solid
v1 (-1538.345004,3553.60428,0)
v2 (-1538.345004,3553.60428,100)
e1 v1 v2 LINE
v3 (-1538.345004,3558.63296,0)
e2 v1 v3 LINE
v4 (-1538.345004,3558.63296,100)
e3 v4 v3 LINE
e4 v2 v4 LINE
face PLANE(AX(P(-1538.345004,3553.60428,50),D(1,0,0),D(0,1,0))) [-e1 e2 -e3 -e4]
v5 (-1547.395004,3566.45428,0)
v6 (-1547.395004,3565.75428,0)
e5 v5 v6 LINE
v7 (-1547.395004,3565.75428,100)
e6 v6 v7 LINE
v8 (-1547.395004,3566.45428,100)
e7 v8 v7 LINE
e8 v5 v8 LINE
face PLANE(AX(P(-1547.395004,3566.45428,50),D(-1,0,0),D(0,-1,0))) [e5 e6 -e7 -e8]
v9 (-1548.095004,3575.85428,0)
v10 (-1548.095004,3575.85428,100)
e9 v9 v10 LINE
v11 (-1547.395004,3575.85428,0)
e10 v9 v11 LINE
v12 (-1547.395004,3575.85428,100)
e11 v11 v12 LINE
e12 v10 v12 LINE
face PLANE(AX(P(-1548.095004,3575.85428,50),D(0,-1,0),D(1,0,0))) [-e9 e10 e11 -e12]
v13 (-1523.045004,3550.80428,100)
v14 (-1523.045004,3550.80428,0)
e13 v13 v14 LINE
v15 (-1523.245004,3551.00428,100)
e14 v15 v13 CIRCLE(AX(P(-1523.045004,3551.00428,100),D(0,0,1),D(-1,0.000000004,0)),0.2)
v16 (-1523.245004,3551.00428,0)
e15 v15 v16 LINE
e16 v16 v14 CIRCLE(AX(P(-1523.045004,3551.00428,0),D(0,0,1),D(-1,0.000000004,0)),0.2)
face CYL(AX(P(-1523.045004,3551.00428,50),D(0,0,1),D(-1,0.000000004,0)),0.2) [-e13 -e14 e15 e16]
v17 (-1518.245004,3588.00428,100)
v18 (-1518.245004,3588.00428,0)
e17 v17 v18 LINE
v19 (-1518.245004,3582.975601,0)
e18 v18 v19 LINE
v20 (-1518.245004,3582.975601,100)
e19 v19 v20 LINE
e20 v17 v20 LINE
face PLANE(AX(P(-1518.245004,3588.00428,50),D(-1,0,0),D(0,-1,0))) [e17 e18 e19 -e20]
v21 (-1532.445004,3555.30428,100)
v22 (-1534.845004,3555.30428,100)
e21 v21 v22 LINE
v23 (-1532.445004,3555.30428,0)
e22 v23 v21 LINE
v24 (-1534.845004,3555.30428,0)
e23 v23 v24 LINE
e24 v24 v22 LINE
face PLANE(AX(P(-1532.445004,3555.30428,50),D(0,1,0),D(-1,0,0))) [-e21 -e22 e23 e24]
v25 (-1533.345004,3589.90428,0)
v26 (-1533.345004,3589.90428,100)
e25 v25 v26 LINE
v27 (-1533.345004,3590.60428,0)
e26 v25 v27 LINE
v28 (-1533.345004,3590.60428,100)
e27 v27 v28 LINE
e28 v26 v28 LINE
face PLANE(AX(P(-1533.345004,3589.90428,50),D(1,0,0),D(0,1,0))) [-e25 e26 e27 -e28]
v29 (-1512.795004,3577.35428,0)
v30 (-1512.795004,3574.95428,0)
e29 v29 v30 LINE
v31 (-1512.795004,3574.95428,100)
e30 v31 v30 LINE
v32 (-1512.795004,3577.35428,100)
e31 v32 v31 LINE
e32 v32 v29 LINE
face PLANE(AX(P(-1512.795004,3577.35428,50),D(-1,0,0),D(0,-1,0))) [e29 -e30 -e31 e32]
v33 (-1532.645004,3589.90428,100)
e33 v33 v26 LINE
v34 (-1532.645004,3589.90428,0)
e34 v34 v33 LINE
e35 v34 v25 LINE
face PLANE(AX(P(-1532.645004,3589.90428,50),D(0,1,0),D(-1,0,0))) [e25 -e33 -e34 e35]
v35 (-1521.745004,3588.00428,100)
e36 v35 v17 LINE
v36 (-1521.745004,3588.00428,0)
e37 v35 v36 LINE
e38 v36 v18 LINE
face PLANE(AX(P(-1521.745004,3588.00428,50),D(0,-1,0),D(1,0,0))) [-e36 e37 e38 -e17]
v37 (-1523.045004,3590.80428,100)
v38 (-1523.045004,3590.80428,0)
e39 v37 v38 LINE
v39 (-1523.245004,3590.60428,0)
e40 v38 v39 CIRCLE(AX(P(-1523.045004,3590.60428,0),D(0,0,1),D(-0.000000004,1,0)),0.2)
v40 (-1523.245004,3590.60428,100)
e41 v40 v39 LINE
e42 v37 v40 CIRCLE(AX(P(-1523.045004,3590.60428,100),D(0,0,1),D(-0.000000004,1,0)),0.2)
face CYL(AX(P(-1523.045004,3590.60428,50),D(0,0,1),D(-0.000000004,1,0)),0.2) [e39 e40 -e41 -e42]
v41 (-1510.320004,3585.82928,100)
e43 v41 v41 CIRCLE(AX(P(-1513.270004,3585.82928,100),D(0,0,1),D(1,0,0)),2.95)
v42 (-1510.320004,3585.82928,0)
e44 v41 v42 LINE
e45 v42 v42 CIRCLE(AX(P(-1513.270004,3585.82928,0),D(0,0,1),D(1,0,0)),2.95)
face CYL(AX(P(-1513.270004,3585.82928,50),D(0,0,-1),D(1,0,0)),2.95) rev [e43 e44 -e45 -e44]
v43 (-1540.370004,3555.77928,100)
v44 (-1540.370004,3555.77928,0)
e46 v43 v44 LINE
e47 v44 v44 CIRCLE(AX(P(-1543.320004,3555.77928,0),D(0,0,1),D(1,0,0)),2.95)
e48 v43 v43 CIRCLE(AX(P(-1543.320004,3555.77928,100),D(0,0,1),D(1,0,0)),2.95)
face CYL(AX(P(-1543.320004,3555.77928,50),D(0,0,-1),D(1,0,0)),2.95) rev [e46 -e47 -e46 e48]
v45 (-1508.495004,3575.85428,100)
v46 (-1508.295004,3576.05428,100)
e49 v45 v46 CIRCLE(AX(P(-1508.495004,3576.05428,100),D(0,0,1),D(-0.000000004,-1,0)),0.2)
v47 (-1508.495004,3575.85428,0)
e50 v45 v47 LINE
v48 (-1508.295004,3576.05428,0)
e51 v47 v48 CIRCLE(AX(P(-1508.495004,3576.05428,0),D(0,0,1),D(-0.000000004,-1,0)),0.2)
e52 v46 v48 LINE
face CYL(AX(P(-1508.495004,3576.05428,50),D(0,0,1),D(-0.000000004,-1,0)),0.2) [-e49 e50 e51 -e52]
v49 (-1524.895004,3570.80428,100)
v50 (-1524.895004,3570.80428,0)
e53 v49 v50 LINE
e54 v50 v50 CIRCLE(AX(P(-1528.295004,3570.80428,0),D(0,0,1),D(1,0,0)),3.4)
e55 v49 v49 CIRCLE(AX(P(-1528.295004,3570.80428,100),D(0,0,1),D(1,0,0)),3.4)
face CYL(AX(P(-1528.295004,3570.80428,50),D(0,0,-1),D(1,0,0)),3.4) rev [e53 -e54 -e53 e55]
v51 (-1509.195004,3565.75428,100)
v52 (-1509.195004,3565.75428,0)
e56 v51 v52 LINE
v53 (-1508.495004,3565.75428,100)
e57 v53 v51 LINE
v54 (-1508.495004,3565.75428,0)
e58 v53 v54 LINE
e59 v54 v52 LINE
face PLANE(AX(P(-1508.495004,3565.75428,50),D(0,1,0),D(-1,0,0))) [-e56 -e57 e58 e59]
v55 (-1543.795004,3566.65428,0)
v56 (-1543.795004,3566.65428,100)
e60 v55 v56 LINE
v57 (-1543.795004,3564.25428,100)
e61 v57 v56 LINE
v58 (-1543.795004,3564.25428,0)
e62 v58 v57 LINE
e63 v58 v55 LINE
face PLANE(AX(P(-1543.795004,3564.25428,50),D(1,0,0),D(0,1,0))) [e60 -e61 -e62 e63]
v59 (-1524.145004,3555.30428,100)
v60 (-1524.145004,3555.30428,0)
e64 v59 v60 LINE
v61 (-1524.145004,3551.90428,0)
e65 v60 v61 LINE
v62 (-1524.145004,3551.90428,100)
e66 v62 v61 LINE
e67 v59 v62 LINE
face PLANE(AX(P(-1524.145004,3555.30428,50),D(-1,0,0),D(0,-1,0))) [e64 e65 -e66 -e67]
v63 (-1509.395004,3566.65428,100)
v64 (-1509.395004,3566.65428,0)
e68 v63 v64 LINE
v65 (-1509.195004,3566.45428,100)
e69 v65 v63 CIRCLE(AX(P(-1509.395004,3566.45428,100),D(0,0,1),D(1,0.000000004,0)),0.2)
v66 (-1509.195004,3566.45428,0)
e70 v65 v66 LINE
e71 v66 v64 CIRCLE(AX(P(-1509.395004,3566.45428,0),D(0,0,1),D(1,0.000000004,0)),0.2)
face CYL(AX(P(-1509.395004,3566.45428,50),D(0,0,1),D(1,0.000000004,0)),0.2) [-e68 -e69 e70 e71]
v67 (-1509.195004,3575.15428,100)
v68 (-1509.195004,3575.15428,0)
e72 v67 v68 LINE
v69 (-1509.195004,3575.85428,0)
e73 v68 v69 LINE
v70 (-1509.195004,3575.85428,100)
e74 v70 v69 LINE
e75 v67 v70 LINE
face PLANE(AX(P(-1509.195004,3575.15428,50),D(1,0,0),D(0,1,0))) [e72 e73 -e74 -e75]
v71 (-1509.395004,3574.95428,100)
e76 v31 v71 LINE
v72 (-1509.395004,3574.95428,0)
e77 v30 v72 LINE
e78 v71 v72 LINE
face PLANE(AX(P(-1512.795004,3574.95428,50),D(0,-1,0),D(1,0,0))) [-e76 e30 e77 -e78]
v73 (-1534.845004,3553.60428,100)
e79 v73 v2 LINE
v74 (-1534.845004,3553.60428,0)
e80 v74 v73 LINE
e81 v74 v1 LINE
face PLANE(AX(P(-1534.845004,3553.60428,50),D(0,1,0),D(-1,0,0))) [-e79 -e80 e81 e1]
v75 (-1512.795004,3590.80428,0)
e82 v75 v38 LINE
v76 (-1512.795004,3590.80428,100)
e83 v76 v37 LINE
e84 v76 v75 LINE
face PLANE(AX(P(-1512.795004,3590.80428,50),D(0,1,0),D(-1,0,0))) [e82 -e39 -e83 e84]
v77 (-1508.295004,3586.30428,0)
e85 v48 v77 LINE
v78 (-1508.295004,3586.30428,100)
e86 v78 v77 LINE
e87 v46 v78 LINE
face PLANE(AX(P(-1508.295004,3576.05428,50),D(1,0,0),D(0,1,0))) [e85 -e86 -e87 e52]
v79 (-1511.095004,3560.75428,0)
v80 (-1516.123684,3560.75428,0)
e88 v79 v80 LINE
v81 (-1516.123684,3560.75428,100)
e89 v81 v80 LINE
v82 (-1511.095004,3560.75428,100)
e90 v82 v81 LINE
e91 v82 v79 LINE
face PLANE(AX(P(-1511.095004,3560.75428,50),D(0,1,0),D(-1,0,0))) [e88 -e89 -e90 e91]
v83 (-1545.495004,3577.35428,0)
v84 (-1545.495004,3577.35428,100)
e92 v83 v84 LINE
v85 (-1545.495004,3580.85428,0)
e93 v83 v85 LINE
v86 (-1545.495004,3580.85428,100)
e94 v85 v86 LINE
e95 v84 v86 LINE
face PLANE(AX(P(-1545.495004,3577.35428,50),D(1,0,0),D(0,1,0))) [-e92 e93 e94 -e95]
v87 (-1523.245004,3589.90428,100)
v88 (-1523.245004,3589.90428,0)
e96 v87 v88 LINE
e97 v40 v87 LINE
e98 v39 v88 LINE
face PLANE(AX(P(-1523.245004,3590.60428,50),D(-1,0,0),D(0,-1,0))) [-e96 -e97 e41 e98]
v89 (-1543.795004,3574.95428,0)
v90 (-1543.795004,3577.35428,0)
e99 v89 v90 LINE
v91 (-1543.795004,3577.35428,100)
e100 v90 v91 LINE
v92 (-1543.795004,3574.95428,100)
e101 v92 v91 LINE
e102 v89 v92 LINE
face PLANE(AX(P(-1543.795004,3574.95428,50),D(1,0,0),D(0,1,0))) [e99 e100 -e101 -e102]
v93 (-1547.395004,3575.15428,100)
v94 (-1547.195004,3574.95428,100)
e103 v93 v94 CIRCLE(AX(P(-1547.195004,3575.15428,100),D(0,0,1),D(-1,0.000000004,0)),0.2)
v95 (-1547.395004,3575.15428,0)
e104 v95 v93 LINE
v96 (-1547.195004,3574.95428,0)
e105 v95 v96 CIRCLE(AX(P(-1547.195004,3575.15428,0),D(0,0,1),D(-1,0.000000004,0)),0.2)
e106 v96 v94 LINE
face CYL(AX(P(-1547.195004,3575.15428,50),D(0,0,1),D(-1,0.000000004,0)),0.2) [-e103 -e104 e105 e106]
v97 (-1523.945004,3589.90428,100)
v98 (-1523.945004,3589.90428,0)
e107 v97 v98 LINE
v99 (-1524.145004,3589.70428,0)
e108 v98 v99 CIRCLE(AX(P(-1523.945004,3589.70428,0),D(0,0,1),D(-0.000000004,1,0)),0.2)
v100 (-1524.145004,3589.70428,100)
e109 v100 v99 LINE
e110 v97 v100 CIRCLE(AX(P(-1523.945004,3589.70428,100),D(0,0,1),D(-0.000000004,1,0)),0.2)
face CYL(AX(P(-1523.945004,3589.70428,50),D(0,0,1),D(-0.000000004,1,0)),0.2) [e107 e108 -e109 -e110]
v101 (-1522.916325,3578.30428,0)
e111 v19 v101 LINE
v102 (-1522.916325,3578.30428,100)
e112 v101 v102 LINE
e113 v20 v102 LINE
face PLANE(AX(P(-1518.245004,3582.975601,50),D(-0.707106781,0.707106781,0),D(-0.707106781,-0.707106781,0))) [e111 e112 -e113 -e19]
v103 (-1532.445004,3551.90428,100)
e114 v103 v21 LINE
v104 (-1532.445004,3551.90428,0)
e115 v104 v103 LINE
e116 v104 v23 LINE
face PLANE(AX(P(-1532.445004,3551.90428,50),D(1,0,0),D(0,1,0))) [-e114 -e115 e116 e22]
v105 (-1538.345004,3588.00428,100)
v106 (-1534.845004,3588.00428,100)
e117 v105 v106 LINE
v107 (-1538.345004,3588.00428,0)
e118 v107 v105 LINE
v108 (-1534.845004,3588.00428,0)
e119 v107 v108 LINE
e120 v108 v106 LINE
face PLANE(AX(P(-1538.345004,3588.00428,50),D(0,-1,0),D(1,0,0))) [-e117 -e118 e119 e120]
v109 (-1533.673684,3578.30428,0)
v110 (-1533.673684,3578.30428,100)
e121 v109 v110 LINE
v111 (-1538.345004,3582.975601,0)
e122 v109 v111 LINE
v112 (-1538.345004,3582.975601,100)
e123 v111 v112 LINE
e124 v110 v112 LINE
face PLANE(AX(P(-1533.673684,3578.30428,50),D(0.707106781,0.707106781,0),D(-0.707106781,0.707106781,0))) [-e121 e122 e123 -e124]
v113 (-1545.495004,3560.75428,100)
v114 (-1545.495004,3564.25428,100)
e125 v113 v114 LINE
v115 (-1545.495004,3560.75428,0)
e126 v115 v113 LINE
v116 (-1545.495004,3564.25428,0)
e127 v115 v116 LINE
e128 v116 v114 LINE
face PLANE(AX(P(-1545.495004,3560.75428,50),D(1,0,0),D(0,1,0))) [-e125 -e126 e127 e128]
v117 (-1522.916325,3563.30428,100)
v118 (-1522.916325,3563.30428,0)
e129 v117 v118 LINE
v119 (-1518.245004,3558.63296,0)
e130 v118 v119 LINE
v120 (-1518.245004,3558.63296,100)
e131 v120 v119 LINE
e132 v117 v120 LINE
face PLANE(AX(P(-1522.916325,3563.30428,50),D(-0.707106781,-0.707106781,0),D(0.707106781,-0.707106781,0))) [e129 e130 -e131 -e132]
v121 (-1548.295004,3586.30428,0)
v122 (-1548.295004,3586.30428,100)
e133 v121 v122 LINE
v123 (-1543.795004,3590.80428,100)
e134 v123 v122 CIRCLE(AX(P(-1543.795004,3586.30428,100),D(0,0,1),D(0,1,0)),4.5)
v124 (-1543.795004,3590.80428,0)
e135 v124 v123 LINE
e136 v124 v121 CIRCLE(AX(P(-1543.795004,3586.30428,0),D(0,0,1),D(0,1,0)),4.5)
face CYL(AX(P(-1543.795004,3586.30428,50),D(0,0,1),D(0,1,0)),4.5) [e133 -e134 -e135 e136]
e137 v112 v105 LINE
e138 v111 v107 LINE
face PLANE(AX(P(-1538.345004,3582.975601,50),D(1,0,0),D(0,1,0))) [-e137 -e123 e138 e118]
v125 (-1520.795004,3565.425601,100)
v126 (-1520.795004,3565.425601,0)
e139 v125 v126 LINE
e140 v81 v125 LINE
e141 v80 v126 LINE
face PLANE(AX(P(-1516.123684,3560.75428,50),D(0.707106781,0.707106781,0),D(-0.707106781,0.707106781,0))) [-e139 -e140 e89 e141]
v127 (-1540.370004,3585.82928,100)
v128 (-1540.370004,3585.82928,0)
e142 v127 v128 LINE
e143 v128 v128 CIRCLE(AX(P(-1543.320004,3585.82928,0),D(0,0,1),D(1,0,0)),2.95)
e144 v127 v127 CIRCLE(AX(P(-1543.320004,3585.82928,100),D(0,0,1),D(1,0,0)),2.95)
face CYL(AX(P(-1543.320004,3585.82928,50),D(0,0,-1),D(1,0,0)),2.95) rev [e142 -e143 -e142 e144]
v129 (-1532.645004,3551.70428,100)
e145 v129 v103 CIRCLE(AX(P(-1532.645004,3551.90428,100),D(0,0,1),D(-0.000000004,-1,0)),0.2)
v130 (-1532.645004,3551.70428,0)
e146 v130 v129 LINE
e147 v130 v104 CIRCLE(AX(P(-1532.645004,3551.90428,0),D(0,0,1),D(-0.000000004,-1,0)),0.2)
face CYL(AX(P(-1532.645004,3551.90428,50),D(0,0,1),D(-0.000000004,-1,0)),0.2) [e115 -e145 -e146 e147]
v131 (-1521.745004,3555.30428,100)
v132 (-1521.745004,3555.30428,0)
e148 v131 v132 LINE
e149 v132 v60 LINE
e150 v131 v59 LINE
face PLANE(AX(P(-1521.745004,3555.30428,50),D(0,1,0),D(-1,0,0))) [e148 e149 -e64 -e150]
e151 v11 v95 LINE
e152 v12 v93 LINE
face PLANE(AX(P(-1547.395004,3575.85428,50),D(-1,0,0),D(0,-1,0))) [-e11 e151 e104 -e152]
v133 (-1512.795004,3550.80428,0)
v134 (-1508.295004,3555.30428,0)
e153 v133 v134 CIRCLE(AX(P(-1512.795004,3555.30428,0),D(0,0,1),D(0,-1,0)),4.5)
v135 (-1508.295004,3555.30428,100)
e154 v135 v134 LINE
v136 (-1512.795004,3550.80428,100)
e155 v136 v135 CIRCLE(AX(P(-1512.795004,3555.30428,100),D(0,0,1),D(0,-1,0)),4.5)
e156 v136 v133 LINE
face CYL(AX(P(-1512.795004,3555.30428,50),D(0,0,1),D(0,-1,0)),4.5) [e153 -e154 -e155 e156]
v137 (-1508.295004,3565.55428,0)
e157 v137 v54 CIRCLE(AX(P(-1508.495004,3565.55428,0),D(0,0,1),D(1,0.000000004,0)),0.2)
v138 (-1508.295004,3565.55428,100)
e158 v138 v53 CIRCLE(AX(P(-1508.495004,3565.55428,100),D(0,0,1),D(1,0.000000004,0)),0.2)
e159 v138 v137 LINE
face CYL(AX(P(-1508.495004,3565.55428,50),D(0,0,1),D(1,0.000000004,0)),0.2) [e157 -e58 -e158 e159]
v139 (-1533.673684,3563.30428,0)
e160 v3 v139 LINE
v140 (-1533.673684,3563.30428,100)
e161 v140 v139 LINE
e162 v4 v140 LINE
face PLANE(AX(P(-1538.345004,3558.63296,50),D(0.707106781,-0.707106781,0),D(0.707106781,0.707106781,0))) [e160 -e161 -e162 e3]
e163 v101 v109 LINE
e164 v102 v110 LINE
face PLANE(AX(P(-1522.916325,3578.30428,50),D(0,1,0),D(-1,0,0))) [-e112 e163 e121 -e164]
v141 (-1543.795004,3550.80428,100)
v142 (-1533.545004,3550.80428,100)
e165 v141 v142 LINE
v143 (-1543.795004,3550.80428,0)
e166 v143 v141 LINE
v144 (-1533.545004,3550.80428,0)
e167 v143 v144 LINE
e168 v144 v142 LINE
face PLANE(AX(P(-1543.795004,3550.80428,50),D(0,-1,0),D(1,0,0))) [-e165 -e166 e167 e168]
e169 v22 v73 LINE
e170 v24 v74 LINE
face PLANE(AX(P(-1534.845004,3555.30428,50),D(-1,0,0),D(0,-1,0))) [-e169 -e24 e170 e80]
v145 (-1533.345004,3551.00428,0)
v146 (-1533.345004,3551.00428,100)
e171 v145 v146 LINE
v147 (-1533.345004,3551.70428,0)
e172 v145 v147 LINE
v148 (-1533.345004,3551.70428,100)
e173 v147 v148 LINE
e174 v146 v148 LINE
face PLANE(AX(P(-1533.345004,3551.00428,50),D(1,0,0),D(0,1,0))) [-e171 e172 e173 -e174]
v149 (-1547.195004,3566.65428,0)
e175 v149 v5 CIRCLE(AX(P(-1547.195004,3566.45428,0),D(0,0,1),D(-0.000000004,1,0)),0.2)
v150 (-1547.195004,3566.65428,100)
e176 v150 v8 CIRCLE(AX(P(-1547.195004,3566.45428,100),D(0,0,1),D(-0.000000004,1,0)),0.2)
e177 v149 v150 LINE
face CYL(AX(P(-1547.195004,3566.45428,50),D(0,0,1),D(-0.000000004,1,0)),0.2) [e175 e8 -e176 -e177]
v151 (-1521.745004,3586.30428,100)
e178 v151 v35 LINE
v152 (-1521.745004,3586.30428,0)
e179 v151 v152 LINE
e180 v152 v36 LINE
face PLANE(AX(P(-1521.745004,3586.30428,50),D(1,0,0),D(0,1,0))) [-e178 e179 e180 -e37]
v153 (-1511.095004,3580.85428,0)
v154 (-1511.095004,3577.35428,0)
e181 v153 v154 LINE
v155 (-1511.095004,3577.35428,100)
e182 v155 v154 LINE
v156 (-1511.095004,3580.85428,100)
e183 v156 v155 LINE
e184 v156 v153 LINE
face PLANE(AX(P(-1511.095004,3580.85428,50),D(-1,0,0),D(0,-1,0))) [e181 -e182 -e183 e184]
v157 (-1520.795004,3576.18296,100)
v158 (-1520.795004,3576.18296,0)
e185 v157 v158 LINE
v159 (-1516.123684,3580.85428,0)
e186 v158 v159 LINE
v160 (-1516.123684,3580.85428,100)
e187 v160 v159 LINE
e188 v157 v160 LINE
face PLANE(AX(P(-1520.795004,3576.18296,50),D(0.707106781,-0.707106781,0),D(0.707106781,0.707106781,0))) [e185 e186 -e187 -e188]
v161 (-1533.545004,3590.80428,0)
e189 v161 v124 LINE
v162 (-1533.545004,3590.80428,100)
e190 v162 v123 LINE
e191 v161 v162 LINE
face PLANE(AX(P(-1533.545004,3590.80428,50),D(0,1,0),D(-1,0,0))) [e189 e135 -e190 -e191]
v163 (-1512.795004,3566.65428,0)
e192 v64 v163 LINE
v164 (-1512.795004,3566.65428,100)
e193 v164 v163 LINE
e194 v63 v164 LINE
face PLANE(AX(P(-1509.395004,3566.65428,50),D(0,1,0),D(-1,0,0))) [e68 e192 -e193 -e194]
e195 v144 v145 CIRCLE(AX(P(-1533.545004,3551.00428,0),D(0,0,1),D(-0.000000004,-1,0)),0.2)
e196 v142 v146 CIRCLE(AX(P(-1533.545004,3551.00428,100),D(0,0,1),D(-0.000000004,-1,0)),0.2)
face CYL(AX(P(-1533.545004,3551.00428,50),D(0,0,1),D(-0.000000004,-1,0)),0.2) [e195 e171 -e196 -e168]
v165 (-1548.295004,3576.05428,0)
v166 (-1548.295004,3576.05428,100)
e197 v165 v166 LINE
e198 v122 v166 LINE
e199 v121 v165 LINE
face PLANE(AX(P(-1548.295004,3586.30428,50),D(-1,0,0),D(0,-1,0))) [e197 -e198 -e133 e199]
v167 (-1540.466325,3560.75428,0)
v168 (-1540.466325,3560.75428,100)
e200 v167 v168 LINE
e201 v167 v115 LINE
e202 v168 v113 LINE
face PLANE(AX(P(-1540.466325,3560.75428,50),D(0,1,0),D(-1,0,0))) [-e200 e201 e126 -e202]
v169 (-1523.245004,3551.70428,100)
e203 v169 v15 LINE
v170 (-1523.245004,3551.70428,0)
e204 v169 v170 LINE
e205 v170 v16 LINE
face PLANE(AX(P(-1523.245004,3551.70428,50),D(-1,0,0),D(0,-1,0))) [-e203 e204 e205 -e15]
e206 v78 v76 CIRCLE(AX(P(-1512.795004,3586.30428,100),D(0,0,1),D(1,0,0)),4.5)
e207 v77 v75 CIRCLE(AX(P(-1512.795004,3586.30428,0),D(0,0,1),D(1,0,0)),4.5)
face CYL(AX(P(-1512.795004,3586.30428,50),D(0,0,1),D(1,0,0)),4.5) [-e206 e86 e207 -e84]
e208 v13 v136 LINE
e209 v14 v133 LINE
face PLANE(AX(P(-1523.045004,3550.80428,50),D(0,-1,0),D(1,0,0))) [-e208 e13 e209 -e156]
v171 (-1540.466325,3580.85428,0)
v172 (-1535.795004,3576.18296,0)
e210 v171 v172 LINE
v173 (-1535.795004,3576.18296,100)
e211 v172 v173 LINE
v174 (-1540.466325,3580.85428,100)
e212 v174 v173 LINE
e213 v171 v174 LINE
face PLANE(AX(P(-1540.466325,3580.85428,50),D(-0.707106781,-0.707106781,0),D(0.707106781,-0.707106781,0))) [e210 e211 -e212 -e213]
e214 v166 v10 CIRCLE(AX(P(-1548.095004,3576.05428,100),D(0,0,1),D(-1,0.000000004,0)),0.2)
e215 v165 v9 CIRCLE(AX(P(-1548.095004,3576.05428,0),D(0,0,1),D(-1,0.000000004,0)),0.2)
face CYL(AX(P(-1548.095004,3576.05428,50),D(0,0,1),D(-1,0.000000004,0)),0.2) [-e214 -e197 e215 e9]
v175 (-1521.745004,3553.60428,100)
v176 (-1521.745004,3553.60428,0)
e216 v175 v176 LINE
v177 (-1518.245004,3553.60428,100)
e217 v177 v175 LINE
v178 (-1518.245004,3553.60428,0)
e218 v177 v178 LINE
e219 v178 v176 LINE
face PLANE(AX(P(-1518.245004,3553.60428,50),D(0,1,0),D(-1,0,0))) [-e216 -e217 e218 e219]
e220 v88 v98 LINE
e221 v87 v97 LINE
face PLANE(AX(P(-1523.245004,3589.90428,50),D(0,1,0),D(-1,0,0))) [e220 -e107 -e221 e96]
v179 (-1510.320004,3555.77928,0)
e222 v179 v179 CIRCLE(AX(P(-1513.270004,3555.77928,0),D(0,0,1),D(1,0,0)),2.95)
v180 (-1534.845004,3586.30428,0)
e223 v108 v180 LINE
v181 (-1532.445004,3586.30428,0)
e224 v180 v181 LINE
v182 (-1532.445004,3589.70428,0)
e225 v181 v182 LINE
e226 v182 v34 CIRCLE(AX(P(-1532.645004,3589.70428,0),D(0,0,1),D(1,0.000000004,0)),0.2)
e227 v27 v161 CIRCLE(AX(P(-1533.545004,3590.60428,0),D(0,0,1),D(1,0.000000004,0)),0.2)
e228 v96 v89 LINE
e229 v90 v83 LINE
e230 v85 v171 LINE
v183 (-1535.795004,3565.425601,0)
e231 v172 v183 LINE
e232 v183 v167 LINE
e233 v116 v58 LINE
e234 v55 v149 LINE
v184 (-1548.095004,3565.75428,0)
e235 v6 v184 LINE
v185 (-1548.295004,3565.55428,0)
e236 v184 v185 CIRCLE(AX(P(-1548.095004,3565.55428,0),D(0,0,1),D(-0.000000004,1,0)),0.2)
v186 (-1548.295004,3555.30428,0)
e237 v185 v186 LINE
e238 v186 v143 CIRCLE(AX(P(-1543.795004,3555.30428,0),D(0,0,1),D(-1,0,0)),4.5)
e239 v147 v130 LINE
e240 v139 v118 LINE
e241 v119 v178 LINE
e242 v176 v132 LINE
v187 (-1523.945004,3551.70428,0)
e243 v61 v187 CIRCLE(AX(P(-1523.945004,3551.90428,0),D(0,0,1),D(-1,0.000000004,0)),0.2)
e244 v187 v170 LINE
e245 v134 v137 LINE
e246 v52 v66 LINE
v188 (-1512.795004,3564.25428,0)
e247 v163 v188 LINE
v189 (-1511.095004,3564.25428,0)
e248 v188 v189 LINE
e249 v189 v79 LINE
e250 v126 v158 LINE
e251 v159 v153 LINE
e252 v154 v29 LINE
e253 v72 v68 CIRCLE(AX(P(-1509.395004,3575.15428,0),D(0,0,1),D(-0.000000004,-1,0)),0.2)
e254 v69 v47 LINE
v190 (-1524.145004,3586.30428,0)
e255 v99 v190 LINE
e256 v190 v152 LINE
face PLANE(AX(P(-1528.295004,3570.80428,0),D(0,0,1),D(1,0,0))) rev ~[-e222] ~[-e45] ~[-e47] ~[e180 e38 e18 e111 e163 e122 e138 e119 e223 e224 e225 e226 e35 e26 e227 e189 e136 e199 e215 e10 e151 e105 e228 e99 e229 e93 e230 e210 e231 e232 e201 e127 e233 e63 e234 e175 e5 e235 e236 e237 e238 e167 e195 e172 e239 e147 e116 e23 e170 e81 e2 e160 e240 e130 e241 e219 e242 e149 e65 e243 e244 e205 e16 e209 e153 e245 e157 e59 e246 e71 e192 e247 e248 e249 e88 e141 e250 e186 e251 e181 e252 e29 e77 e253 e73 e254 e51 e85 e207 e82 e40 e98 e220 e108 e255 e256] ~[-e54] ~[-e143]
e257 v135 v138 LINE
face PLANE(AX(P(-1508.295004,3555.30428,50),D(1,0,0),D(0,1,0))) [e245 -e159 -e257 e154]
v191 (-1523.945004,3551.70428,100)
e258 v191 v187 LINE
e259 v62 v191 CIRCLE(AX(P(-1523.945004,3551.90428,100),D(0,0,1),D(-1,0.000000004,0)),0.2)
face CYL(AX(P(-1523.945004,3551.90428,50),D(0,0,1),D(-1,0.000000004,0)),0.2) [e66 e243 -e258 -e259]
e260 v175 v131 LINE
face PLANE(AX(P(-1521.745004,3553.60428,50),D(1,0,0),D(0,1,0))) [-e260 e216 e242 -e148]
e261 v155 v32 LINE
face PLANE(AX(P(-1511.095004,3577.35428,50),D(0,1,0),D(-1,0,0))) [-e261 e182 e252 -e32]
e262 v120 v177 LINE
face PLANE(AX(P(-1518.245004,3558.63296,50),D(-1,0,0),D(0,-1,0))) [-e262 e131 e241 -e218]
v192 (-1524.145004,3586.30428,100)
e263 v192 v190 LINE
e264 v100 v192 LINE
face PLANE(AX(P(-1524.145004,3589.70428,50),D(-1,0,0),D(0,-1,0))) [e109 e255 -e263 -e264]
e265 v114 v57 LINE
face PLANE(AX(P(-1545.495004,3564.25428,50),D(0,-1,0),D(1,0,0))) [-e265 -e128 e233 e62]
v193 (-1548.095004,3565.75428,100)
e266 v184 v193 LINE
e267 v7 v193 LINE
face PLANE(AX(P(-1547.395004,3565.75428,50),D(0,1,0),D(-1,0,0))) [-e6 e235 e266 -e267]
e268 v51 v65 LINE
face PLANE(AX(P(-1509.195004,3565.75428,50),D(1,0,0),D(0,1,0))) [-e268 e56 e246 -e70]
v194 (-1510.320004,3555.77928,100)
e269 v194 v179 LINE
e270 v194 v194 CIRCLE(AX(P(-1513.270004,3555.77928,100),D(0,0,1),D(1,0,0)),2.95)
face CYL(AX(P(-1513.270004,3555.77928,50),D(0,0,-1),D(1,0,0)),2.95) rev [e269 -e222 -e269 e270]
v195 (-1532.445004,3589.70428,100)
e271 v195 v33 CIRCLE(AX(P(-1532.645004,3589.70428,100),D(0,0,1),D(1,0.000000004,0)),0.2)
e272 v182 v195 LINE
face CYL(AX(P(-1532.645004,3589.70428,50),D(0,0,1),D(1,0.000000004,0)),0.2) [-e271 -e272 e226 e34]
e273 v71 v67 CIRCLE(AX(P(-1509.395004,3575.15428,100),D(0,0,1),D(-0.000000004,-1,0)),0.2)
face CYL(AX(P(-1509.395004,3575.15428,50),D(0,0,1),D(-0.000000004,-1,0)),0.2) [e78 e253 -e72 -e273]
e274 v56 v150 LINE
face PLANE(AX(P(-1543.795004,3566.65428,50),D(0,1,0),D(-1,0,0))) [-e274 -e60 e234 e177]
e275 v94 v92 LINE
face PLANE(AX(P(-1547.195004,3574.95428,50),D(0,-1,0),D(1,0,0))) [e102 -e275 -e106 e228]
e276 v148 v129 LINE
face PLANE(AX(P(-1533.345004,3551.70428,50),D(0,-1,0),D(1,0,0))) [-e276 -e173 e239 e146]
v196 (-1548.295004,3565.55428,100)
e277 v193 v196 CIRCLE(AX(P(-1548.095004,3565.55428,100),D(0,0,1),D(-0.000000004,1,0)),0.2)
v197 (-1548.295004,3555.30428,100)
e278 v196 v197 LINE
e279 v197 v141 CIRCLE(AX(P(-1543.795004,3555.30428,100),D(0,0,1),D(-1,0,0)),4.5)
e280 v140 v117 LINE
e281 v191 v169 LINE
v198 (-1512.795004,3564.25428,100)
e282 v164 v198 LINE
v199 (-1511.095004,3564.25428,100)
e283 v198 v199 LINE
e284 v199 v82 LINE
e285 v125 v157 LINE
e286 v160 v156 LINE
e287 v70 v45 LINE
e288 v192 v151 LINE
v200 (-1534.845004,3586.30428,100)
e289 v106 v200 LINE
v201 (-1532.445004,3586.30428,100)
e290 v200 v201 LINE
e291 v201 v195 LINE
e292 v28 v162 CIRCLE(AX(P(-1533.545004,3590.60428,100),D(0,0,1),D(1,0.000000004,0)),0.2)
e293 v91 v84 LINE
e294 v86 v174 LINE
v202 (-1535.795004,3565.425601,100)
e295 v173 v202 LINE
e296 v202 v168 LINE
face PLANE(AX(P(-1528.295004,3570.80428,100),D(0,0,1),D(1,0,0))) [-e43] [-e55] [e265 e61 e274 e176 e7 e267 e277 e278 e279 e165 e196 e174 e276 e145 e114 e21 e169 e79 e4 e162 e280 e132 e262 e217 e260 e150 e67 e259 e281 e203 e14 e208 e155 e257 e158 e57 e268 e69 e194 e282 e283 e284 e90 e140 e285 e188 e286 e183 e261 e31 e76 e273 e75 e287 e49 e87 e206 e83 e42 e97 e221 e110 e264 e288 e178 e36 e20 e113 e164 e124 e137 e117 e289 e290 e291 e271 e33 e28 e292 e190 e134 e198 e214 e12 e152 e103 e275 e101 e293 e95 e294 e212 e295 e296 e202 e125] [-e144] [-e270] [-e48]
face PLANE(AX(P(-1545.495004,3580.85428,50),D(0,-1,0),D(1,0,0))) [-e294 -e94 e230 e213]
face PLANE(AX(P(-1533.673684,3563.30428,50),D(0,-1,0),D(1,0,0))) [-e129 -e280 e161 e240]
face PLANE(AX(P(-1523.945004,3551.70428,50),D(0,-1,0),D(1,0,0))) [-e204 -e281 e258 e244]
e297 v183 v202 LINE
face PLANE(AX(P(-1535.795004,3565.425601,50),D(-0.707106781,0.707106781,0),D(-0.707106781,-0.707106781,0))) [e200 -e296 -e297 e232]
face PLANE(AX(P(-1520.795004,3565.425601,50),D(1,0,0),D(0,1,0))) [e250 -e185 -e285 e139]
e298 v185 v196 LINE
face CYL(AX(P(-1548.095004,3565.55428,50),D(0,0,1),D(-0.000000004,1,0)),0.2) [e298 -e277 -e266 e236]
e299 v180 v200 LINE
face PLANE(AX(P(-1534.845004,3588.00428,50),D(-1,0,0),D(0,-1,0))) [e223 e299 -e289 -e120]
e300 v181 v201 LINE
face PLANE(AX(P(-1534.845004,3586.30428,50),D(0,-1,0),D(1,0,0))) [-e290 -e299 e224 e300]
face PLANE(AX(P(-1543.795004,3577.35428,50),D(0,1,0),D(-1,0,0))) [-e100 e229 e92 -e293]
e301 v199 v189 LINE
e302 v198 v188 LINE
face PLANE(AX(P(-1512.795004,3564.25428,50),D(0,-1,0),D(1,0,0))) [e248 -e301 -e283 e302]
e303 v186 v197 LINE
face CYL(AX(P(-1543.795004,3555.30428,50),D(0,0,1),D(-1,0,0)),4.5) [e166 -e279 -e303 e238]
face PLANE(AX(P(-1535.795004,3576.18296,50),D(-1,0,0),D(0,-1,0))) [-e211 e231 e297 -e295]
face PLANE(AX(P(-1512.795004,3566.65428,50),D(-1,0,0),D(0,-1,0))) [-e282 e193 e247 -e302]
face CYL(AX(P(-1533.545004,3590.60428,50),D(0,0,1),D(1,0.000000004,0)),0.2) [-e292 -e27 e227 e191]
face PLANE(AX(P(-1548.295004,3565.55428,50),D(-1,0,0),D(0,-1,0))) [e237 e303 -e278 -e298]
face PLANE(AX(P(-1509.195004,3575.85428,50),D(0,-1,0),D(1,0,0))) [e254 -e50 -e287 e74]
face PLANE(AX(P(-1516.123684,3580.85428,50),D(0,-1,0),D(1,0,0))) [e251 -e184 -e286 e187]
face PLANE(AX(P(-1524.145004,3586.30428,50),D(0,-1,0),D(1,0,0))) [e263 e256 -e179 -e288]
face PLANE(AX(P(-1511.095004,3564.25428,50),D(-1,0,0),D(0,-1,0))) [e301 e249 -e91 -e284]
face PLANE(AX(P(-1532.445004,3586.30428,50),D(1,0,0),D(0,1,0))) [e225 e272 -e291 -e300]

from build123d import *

# Parameters (mm, degrees)
SKETCH_1_R      = 2.95
SKETCH_1_R_2    = 3.4
EXTRUDE_1_DEPTH = 50


with BuildPart() as part:
    # 草图1 → 凸台-拉伸1 (new body, symmetric)
    with BuildSketch(Plane.XY.offset(50)):
        with BuildLine():
            Line((-1518.245004392, 3588.004280474), (-1518.245004392, 3582.975600817))
            Line((-1518.245004392, 3582.975600817), (-1522.916324736, 3578.304280474))
            Line((-1522.916324736, 3578.304280474), (-1533.673684048, 3578.304280474))
            Line((-1533.673684048, 3578.304280474), (-1538.345004392, 3582.975600817))
            Line((-1538.345004392, 3582.975600817), (-1538.345004392, 3588.004280474))
            Line((-1538.345004392, 3588.004280474), (-1534.845004392, 3588.004280474))
            Line((-1534.845004392, 3588.004280474), (-1534.845004392, 3586.304280474))
            Line((-1534.845004392, 3586.304280474), (-1532.445004392, 3586.304280474))
            Line((-1532.445004392, 3586.304280474), (-1532.445004392, 3589.704280474))
            ThreePointArc((-1532.445004392, 3589.704280474), (-1532.503583036, 3589.84570183), (-1532.645004392, 3589.904280474))
            Line((-1532.645004392, 3589.904280474), (-1533.345004392, 3589.904280474))
            Line((-1533.345004392, 3589.904280474), (-1533.345004392, 3590.604280474))
            ThreePointArc((-1533.345004392, 3590.604280474), (-1533.403583036, 3590.74570183), (-1533.545004392, 3590.804280474))
            Line((-1533.545004392, 3590.804280474), (-1543.795004392, 3590.804280474))
            ThreePointArc((-1543.795004392, 3590.804280474), (-1546.976984907, 3589.486260989), (-1548.295004392, 3586.304280474))
            Line((-1548.295004392, 3586.304280474), (-1548.295004392, 3576.054280474))
            ThreePointArc((-1548.295004392, 3576.054280474), (-1548.236425748, 3575.912859117), (-1548.095004392, 3575.854280474))
            Line((-1548.095004392, 3575.854280474), (-1547.395004392, 3575.854280474))
            Line((-1547.395004392, 3575.854280474), (-1547.395004392, 3575.154280474))
            ThreePointArc((-1547.395004392, 3575.154280474), (-1547.336425748, 3575.012859117), (-1547.195004392, 3574.954280474))
            Line((-1547.195004392, 3574.954280474), (-1543.795004392, 3574.954280474))
            Line((-1543.795004392, 3574.954280474), (-1543.795004392, 3577.354280474))
            Line((-1543.795004392, 3577.354280474), (-1545.495004392, 3577.354280474))
            Line((-1545.495004392, 3577.354280474), (-1545.495004392, 3580.854280474))
            Line((-1545.495004392, 3580.854280474), (-1540.466324736, 3580.854280474))
            Line((-1540.466324736, 3580.854280474), (-1535.795004392, 3576.18296013))
            Line((-1535.795004392, 3576.18296013), (-1535.795004392, 3565.425600817))
            Line((-1535.795004392, 3565.425600817), (-1540.466324736, 3560.754280474))
            Line((-1540.466324736, 3560.754280474), (-1545.495004392, 3560.754280474))
            Line((-1545.495004392, 3560.754280474), (-1545.495004392, 3564.254280474))
            Line((-1545.495004392, 3564.254280474), (-1543.795004392, 3564.254280474))
            Line((-1543.795004392, 3564.254280474), (-1543.795004392, 3566.654280474))
            Line((-1543.795004392, 3566.654280474), (-1547.195004392, 3566.654280474))
            ThreePointArc((-1547.195004392, 3566.654280474), (-1547.336425748, 3566.59570183), (-1547.395004392, 3566.454280474))
            Line((-1547.395004392, 3566.454280474), (-1547.395004392, 3565.754280474))
            Line((-1547.395004392, 3565.754280474), (-1548.095004392, 3565.754280474))
            ThreePointArc((-1548.095004392, 3565.754280474), (-1548.236425748, 3565.69570183), (-1548.295004392, 3565.554280474))
            Line((-1548.295004392, 3565.554280474), (-1548.295004392, 3555.304280474))
            ThreePointArc((-1548.295004392, 3555.304280474), (-1546.976984907, 3552.122299958), (-1543.795004392, 3550.804280474))
            Line((-1543.795004392, 3550.804280474), (-1533.545004392, 3550.804280474))
            ThreePointArc((-1533.545004392, 3550.804280474), (-1533.403583036, 3550.862859117), (-1533.345004392, 3551.004280474))
            Line((-1533.345004392, 3551.004280474), (-1533.345004392, 3551.704280474))
            Line((-1533.345004392, 3551.704280474), (-1532.645004392, 3551.704280474))
            ThreePointArc((-1532.645004392, 3551.704280474), (-1532.503583036, 3551.762859117), (-1532.445004392, 3551.904280474))
            Line((-1532.445004392, 3551.904280474), (-1532.445004392, 3555.304280474))
            Line((-1532.445004392, 3555.304280474), (-1534.845004392, 3555.304280474))
            Line((-1534.845004392, 3555.304280474), (-1534.845004392, 3553.604280474))
            Line((-1534.845004392, 3553.604280474), (-1538.345004392, 3553.604280474))
            Line((-1538.345004392, 3553.604280474), (-1538.345004392, 3558.63296013))
            Line((-1538.345004392, 3558.63296013), (-1533.673684048, 3563.304280474))
            Line((-1533.673684048, 3563.304280474), (-1522.916324736, 3563.304280474))
            Line((-1522.916324736, 3563.304280474), (-1518.245004392, 3558.63296013))
            Line((-1518.245004392, 3558.63296013), (-1518.245004392, 3553.604280474))
            Line((-1518.245004392, 3553.604280474), (-1521.745004392, 3553.604280474))
            Line((-1521.745004392, 3553.604280474), (-1521.745004392, 3555.304280474))
            Line((-1521.745004392, 3555.304280474), (-1524.145004392, 3555.304280474))
            Line((-1524.145004392, 3555.304280474), (-1524.145004392, 3551.904280474))
            ThreePointArc((-1524.145004392, 3551.904280474), (-1524.086425748, 3551.762859117), (-1523.945004392, 3551.704280474))
            Line((-1523.945004392, 3551.704280474), (-1523.245004392, 3551.704280474))
            Line((-1523.245004392, 3551.704280474), (-1523.245004392, 3551.004280474))
            ThreePointArc((-1523.245004392, 3551.004280474), (-1523.186425748, 3550.862859117), (-1523.045004392, 3550.804280474))
            Line((-1523.045004392, 3550.804280474), (-1512.795004392, 3550.804280474))
            ThreePointArc((-1512.795004392, 3550.804280474), (-1509.613023877, 3552.122299958), (-1508.295004392, 3555.304280474))
            Line((-1508.295004392, 3555.304280474), (-1508.295004392, 3565.554280474))
            ThreePointArc((-1508.295004392, 3565.554280474), (-1508.353583036, 3565.69570183), (-1508.495004392, 3565.754280474))
            Line((-1508.495004392, 3565.754280474), (-1509.195004392, 3565.754280474))
            Line((-1509.195004392, 3565.754280474), (-1509.195004392, 3566.454280474))
            ThreePointArc((-1509.195004392, 3566.454280474), (-1509.253583036, 3566.59570183), (-1509.395004392, 3566.654280474))
            Line((-1509.395004392, 3566.654280474), (-1512.795004392, 3566.654280474))
            Line((-1512.795004392, 3566.654280474), (-1512.795004392, 3564.254280474))
            Line((-1512.795004392, 3564.254280474), (-1511.095004392, 3564.254280474))
            Line((-1511.095004392, 3564.254280474), (-1511.095004392, 3560.754280474))
            Line((-1511.095004392, 3560.754280474), (-1516.123684048, 3560.754280474))
            Line((-1516.123684048, 3560.754280474), (-1520.795004392, 3565.425600817))
            Line((-1520.795004392, 3565.425600817), (-1520.795004392, 3576.18296013))
            Line((-1520.795004392, 3576.18296013), (-1516.123684048, 3580.854280474))
            Line((-1516.123684048, 3580.854280474), (-1511.095004392, 3580.854280474))
            Line((-1511.095004392, 3580.854280474), (-1511.095004392, 3577.354280474))
            Line((-1511.095004392, 3577.354280474), (-1512.795004392, 3577.354280474))
            Line((-1512.795004392, 3577.354280474), (-1512.795004392, 3574.954280474))
            Line((-1512.795004392, 3574.954280474), (-1509.395004392, 3574.954280474))
            ThreePointArc((-1509.395004392, 3574.954280474), (-1509.253583036, 3575.012859117), (-1509.195004392, 3575.154280474))
            Line((-1509.195004392, 3575.154280474), (-1509.195004392, 3575.854280474))
            Line((-1509.195004392, 3575.854280474), (-1508.495004392, 3575.854280474))
            ThreePointArc((-1508.495004392, 3575.854280474), (-1508.353583036, 3575.912859117), (-1508.295004392, 3576.054280474))
            Line((-1508.295004392, 3576.054280474), (-1508.295004392, 3586.304280474))
            ThreePointArc((-1508.295004392, 3586.304280474), (-1509.613023877, 3589.486260989), (-1512.795004392, 3590.804280474))
            Line((-1512.795004392, 3590.804280474), (-1523.045004392, 3590.804280474))
            ThreePointArc((-1523.045004392, 3590.804280474), (-1523.186425748, 3590.74570183), (-1523.245004392, 3590.604280474))
            Line((-1523.245004392, 3590.604280474), (-1523.245004392, 3589.904280474))
            Line((-1523.245004392, 3589.904280474), (-1523.945004392, 3589.904280474))
            ThreePointArc((-1523.945004392, 3589.904280474), (-1524.086425748, 3589.84570183), (-1524.145004392, 3589.704280474))
            Line((-1524.145004392, 3589.704280474), (-1524.145004392, 3586.304280474))
            Line((-1524.145004392, 3586.304280474), (-1521.745004392, 3586.304280474))
            Line((-1521.745004392, 3586.304280474), (-1521.745004392, 3588.004280474))
            Line((-1521.745004392, 3588.004280474), (-1518.245004392, 3588.004280474))
        make_face()
        with Locations((-1513.270004392, 3555.779280474)):
            Circle(SKETCH_1_R, mode=Mode.SUBTRACT)
        with Locations((-1528.295004392, 3570.804280474)):
            Circle(SKETCH_1_R_2, mode=Mode.SUBTRACT)
        with Locations((-1513.270004392, 3585.829280474)):
            Circle(SKETCH_1_R, mode=Mode.SUBTRACT)
        with Locations((-1543.320004392, 3585.829280474)):
            Circle(SKETCH_1_R, mode=Mode.SUBTRACT)
        with Locations((-1543.320004392, 3555.779280474)):
            Circle(SKETCH_1_R, mode=Mode.SUBTRACT)
    extrude(amount=EXTRUDE_1_DEPTH, both=True)


solid = part.part
